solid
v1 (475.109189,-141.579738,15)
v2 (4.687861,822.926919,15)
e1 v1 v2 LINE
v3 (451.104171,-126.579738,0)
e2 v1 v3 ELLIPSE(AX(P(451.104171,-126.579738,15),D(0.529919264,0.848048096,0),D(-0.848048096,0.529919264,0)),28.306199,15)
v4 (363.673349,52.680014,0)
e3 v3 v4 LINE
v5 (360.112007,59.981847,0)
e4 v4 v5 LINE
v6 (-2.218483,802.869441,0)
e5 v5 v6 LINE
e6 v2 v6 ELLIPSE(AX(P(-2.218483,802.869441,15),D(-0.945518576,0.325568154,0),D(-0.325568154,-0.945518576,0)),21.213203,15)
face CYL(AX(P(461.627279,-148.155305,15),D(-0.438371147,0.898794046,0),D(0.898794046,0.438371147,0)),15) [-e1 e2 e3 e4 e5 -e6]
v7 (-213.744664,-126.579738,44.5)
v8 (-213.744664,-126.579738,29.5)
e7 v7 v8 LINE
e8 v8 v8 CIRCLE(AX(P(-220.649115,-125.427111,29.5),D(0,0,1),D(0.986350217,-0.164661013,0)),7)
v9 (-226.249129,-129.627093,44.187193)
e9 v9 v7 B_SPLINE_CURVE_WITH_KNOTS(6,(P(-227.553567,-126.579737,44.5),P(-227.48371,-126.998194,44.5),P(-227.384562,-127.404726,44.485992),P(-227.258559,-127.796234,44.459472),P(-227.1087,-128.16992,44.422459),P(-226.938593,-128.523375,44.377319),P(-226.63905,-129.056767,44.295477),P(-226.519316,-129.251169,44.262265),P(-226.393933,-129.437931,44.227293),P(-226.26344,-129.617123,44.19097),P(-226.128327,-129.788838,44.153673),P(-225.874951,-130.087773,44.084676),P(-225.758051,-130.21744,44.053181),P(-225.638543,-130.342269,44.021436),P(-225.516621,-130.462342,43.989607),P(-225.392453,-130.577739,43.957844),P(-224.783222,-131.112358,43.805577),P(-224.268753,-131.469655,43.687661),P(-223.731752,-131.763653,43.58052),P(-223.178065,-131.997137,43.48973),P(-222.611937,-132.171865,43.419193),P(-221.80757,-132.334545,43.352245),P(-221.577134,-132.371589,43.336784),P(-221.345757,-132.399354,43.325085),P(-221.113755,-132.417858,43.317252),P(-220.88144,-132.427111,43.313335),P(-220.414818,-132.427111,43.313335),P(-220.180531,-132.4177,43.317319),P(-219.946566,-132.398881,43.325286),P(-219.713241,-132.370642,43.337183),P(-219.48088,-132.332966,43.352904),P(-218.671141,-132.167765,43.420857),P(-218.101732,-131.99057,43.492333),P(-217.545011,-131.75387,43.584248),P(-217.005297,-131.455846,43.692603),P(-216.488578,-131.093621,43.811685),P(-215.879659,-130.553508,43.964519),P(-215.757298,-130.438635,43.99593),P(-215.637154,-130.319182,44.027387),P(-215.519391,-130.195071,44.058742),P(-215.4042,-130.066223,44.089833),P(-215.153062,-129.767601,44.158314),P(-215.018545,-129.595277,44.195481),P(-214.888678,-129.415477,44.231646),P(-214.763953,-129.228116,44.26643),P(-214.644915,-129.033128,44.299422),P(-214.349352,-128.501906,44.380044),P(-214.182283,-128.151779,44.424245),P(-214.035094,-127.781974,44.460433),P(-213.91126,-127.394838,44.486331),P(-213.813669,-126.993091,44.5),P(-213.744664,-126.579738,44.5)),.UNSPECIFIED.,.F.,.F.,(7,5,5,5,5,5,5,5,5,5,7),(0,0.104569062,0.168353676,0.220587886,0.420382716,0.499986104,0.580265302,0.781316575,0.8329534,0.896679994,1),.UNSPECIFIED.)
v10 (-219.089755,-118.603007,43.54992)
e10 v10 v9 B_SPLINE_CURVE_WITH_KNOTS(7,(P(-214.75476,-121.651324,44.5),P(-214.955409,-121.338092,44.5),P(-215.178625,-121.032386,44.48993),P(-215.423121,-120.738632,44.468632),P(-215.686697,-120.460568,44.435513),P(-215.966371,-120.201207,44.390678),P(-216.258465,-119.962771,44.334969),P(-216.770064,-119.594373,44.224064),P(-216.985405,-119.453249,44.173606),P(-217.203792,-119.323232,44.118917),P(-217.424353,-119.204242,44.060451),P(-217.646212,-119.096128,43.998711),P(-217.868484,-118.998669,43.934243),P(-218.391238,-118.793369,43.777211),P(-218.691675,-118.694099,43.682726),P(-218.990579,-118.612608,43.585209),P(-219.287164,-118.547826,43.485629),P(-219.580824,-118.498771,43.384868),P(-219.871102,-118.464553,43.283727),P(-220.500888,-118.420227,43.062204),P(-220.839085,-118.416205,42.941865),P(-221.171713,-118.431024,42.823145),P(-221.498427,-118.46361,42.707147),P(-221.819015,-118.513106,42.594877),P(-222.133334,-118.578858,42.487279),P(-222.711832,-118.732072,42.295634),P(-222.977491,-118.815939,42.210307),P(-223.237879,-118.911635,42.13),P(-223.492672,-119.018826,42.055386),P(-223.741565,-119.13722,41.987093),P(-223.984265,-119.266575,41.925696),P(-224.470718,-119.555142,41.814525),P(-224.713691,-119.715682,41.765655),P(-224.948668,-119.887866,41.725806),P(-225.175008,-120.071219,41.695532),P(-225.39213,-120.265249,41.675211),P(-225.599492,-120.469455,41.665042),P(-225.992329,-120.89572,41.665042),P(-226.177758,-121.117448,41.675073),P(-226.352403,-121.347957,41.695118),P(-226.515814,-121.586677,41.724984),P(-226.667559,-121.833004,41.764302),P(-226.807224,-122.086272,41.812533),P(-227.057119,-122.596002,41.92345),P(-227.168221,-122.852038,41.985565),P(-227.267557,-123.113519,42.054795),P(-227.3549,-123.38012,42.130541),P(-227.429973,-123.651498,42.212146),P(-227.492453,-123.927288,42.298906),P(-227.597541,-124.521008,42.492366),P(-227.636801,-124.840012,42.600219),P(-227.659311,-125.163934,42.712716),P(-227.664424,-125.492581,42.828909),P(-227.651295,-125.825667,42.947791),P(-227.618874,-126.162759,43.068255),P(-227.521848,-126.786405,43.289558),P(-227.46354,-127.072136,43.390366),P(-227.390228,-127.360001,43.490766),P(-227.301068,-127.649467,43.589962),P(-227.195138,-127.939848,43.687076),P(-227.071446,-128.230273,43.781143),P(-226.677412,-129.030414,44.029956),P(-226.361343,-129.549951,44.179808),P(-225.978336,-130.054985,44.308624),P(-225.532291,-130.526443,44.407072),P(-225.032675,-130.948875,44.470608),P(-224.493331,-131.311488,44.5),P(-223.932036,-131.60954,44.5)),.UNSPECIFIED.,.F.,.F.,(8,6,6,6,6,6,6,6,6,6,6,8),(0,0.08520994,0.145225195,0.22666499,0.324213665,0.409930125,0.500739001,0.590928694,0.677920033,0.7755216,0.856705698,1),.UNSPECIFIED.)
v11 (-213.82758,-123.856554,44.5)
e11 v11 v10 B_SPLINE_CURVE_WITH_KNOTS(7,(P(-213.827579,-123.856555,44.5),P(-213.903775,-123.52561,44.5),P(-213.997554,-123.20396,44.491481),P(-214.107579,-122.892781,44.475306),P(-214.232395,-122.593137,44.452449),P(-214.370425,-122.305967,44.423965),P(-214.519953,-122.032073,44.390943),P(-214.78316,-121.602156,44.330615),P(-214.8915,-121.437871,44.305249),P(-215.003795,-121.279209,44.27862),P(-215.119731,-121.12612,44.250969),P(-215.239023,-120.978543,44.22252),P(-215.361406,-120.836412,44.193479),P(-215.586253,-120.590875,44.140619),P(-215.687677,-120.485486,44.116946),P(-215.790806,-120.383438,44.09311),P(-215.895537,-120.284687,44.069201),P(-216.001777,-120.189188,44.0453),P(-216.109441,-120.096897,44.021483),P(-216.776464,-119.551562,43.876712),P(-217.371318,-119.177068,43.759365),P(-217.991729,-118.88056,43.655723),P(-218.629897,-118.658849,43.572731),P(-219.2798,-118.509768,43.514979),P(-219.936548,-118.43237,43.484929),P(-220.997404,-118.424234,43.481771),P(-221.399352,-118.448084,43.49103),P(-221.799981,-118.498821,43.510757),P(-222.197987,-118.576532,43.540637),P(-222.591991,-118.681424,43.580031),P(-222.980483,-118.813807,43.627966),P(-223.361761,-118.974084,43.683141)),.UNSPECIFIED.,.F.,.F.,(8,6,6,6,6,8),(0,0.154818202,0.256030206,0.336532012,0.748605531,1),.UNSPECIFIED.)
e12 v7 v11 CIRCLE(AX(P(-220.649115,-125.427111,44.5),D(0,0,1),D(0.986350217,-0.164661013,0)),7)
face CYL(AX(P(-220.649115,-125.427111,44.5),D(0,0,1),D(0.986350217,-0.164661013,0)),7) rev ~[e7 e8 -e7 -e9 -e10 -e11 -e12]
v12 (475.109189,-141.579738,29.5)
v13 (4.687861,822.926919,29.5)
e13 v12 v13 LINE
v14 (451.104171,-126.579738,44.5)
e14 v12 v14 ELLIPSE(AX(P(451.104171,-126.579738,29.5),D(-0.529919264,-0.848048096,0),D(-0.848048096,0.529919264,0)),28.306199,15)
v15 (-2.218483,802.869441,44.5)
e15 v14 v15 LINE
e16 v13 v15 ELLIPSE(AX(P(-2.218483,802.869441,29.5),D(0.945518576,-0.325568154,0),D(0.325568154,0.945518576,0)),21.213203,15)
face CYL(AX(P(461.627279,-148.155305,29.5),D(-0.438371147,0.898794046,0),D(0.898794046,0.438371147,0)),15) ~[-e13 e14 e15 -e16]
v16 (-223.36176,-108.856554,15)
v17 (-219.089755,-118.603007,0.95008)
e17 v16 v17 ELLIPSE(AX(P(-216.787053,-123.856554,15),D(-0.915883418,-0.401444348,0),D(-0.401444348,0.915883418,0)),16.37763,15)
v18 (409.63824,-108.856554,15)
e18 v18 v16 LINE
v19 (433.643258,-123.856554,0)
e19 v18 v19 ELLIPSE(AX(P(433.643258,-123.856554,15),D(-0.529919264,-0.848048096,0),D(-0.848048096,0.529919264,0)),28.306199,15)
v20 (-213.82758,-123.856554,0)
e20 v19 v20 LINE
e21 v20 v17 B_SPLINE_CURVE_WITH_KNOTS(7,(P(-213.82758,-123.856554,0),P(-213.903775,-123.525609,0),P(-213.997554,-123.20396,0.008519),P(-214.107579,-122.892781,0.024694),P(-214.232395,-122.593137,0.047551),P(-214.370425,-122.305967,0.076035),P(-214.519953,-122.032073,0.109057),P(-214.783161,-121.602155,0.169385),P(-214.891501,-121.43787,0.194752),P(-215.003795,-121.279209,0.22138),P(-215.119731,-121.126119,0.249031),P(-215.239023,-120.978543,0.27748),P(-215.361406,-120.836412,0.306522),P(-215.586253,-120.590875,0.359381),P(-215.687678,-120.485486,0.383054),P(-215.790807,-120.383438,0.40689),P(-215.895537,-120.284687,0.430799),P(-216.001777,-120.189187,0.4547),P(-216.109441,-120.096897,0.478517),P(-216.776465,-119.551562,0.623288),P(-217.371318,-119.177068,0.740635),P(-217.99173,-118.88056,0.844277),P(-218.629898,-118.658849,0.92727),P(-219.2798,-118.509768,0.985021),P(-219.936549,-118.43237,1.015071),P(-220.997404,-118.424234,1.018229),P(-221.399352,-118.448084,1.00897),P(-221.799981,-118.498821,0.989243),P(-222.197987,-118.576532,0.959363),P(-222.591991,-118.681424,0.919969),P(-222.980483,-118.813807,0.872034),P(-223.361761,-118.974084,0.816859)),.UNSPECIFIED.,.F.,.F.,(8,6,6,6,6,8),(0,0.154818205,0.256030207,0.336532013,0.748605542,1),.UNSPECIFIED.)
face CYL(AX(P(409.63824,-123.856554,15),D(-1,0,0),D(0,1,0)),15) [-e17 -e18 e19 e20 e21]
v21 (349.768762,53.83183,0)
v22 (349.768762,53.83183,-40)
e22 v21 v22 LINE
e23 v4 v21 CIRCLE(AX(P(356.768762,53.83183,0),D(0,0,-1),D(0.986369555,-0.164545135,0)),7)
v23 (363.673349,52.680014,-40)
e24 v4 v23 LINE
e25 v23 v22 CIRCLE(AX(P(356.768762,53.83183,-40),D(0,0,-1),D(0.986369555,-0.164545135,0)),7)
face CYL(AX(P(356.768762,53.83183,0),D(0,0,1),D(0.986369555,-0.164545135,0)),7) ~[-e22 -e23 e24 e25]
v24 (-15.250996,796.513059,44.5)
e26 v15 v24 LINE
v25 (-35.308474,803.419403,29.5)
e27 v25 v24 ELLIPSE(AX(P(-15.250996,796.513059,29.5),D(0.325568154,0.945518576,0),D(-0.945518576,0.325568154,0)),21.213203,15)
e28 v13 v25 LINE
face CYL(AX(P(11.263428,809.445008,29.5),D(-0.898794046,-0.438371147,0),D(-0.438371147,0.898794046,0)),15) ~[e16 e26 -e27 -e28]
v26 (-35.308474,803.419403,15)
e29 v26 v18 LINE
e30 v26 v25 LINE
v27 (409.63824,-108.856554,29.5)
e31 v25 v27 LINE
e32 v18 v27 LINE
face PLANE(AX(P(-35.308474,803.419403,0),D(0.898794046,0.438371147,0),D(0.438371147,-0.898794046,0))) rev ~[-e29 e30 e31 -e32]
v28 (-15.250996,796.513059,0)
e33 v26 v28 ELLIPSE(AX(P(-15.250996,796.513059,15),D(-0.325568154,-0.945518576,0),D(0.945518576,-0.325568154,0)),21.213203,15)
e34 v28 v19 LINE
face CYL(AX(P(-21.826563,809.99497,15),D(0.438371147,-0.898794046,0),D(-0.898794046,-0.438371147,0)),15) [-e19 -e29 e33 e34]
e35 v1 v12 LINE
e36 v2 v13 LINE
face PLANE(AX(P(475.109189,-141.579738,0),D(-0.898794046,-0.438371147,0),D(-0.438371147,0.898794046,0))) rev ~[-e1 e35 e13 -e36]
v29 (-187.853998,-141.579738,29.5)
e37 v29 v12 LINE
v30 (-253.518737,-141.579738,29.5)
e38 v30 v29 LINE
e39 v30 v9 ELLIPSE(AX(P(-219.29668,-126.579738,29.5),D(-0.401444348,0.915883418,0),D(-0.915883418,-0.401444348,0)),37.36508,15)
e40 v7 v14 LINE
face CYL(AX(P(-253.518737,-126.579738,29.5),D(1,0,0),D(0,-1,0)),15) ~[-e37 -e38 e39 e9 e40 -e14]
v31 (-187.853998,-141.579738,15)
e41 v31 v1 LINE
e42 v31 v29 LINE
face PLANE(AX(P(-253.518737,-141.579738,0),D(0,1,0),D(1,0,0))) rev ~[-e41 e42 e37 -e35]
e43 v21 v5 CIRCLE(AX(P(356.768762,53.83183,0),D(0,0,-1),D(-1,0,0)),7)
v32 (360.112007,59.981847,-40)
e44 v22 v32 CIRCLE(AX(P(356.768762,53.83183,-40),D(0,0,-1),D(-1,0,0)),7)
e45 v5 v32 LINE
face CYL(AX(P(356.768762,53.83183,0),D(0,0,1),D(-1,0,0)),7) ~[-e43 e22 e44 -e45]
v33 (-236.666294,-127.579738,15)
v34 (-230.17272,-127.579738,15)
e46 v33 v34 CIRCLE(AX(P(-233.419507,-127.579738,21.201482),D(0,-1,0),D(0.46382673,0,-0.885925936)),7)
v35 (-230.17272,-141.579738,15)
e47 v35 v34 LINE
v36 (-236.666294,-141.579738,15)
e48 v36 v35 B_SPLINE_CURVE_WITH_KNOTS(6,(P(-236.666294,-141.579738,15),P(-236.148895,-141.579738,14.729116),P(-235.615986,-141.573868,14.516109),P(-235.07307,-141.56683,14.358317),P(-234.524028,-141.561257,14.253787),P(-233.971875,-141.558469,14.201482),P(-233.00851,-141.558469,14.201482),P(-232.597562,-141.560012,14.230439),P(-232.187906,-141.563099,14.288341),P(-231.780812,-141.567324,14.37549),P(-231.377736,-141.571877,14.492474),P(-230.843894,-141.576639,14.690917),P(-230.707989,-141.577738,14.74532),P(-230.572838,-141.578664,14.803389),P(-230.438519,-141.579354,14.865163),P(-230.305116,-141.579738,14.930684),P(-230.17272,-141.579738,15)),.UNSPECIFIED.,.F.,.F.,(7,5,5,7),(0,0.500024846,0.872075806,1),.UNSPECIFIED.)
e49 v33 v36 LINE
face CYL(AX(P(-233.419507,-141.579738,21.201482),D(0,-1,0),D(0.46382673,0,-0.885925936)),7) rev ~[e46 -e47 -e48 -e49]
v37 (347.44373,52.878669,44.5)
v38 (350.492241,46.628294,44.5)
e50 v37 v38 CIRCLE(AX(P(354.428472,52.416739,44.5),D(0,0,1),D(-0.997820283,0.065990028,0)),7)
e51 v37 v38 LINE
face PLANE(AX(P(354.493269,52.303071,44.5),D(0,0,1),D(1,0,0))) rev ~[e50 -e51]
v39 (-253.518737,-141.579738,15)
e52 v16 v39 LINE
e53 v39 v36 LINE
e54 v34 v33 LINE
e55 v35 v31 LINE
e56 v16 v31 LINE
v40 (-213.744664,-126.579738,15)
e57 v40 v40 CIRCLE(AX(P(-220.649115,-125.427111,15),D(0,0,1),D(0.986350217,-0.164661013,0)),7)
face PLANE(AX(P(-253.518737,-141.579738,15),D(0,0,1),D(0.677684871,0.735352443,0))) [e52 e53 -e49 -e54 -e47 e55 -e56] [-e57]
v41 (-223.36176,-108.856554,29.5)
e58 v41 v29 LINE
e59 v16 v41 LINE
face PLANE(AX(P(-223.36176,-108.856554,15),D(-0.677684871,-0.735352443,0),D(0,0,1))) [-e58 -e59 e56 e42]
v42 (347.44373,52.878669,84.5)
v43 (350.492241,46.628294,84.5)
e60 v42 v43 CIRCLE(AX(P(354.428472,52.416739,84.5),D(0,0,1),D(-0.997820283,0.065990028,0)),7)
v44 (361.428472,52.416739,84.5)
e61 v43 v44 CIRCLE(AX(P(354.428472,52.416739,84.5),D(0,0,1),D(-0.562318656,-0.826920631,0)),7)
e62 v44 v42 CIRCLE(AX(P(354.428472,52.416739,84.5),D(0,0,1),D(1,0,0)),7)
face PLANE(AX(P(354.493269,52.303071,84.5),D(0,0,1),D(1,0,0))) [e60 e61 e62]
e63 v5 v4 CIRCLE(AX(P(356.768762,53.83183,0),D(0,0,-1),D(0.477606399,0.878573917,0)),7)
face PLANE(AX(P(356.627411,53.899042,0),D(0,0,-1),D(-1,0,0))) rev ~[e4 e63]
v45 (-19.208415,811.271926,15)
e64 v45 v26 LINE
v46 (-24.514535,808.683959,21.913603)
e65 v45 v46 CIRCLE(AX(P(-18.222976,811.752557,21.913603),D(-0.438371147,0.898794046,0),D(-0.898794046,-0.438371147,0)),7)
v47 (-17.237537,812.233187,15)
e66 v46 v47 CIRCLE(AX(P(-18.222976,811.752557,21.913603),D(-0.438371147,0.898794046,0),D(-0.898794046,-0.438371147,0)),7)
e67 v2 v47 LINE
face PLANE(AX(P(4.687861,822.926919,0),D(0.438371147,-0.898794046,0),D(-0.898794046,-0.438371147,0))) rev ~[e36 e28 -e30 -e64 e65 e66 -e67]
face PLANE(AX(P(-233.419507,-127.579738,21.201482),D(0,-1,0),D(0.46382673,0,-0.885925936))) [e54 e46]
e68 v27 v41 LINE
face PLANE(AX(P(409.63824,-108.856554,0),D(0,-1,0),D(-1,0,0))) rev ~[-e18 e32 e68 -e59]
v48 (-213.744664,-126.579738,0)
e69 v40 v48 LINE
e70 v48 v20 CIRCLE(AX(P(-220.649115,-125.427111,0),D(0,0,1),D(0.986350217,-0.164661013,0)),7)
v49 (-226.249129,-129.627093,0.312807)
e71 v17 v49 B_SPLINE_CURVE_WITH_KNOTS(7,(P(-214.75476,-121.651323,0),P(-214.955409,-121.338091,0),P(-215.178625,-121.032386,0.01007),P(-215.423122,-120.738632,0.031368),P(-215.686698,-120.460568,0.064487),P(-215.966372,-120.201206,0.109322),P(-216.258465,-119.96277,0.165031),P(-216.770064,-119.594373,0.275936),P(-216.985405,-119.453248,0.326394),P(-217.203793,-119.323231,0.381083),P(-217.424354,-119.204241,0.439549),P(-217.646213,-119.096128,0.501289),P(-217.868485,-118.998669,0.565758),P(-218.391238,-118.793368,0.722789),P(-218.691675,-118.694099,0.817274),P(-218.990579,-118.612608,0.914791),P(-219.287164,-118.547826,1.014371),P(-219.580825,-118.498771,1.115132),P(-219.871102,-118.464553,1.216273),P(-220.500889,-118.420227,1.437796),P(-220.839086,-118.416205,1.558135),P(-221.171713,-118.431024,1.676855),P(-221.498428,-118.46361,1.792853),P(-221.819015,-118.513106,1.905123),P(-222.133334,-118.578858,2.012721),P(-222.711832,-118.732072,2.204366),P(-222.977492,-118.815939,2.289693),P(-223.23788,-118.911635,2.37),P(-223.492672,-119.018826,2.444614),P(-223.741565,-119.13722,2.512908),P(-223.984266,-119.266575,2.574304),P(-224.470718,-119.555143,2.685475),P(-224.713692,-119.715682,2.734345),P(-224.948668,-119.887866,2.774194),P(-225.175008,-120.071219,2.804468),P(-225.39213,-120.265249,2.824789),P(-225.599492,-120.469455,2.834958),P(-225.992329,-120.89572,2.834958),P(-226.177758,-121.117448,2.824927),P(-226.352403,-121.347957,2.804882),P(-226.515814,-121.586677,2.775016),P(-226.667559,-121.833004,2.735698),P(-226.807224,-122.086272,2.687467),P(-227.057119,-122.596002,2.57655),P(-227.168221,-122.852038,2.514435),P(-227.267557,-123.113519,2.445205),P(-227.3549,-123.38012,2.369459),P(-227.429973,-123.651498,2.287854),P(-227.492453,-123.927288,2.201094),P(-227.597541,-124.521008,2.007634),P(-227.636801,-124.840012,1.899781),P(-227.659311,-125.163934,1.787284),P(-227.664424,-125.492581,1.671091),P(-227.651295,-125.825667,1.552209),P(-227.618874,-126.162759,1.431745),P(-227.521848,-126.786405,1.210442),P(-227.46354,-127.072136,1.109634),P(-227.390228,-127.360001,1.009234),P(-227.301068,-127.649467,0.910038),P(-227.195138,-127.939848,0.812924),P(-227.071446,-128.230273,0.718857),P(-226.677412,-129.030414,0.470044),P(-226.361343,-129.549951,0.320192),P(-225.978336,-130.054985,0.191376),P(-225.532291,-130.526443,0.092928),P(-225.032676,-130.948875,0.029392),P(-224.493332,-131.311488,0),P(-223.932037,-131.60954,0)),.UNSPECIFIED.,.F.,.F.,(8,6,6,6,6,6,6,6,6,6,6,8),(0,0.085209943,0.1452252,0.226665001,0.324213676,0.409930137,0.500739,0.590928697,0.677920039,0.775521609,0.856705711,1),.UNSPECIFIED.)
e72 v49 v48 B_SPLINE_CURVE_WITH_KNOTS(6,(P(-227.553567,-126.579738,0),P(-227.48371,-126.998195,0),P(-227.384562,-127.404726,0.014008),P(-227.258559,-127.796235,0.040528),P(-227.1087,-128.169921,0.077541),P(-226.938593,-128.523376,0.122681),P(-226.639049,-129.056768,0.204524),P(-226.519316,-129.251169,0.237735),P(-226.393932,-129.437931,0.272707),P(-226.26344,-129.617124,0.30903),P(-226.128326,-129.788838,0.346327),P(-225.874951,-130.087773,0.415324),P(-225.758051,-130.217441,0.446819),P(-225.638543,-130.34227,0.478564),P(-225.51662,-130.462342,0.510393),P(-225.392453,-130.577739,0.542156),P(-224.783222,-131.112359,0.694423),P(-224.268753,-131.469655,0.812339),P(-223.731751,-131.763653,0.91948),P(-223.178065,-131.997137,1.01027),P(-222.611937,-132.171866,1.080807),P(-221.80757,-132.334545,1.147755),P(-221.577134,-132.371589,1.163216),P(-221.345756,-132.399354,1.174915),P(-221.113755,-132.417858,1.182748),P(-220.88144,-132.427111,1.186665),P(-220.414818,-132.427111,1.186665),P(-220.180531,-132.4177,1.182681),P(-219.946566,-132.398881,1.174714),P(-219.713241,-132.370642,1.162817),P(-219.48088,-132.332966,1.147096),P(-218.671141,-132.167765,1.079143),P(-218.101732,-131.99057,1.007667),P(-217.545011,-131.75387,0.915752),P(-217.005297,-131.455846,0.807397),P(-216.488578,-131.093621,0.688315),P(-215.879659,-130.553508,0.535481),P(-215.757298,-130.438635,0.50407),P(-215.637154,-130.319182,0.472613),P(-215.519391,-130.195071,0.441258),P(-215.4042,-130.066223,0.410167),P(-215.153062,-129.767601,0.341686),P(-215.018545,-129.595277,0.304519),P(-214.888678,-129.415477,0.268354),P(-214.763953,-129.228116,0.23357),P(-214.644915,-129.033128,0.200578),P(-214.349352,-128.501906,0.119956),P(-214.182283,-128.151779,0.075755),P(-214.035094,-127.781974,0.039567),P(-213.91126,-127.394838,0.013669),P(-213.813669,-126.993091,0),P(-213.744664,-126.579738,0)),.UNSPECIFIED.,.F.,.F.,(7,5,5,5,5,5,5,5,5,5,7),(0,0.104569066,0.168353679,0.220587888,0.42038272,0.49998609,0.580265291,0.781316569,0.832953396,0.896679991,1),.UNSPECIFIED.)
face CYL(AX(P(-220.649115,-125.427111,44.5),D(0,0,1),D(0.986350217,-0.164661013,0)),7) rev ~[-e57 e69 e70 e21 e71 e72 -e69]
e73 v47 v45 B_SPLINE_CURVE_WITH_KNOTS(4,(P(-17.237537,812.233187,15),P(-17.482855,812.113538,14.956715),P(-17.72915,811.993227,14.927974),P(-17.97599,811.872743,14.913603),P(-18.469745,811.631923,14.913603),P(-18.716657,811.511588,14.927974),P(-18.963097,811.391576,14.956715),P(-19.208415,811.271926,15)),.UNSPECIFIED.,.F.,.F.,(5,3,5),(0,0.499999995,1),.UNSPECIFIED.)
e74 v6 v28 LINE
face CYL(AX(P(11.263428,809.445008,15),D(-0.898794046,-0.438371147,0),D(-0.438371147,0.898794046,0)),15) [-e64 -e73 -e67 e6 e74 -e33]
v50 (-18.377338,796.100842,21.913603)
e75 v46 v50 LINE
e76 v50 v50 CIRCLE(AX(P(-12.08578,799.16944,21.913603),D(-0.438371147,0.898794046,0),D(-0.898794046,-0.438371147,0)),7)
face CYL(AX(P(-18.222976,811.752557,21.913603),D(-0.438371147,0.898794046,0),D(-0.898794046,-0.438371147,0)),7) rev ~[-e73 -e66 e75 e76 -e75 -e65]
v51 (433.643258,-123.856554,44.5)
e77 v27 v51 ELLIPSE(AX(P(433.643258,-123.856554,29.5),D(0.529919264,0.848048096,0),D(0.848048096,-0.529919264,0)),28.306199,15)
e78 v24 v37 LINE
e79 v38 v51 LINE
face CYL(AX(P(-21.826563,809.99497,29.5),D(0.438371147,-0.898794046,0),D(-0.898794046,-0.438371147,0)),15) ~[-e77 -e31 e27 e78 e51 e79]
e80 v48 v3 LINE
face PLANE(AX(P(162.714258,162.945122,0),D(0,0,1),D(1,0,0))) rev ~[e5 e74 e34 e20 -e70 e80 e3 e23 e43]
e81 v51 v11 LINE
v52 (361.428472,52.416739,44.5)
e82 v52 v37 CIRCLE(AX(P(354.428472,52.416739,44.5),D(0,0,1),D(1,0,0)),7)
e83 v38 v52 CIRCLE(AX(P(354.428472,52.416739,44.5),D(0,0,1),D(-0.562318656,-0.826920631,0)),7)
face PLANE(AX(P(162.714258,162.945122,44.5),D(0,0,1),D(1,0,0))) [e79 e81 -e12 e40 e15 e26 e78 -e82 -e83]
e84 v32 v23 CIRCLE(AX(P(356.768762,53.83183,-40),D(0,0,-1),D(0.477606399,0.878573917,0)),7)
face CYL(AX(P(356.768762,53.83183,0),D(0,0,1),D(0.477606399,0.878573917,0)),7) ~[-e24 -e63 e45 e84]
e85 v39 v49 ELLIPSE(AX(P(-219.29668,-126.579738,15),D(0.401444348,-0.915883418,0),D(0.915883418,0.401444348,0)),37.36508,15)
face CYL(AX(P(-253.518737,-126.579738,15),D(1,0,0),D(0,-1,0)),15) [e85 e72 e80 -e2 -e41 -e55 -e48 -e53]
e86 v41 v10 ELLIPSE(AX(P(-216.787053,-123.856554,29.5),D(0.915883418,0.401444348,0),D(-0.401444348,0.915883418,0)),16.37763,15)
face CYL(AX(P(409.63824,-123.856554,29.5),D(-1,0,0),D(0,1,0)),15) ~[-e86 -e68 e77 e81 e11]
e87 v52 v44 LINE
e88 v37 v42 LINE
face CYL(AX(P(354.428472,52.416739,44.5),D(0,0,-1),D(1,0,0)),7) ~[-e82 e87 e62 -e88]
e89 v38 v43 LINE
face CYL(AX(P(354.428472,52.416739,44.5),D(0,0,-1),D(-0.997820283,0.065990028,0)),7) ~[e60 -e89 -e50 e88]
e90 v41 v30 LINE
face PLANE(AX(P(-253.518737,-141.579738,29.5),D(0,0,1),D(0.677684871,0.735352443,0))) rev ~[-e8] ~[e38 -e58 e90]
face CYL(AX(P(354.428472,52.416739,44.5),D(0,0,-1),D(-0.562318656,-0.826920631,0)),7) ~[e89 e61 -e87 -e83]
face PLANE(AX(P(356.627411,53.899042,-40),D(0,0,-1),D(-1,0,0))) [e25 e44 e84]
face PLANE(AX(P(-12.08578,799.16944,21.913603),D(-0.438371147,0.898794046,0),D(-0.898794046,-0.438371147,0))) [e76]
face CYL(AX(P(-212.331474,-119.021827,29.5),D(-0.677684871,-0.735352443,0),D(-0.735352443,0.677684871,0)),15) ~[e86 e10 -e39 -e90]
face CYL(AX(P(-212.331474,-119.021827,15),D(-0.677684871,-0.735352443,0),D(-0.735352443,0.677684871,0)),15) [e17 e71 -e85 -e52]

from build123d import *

# Parameters (mm, degrees)
BOSS_EXTRUDE1_DEPTH = 44.5
FILLET2_R           = 15
SKETCH2_R           = 7
CUT_EXTRUDE1_DEPTH  = 14
SKETCH3_R           = 7
CUT_EXTRUDE2_DEPTH  = 14
SKETCH4_R           = 7
CUT_EXTRUDE3_DEPTH  = 14
SKETCH5_R           = 7
CUT_EXTRUDE4_DEPTH  = 952.271625519
SKETCH6_W           = 14.5
SKETCH6_H           = 44.5
CUT_EXTRUDE5_DEPTH  = 936.632574619
BOSS_EXTRUDE3_DEPTH = 40
BOSS_EXTRUDE4_DEPTH = 40


with BuildPart() as part:
    # Sketch1 → Boss-Extrude1 (new body)
    with BuildSketch(Plane.XY):
        Polygon((-253.518736915, -141.579738071), (475.109189289, -141.579738071), (4.687860899, 822.926918688), (-35.308474161, 803.419402656), (409.63823983, -108.856554338), (-223.36176017, -108.856554338), align=None)
    extrude(amount=BOSS_EXTRUDE1_DEPTH)

    # Fillet2
    fillet2_edges = [part.edges().sort_by_distance(p)[0] for p in [
        (239.898525094, 340.673590309, 44.5),
        (-15.310306631, 813.173160672, 44.5),
        (187.164882834, 347.281424159, 44.5),
        (93.13823983, -108.856554338, 44.5),
        (-238.440248543, -125.218146204, 44.5),
        (93.13823983, -108.856554338, 0),
        (187.164882834, 347.281424159, 0),
        (-15.310306631, 813.173160672, 0),
        (239.898525094, 340.673590309, 0),
        (110.795226187, -141.579738071, 0),
        (-238.440248543, -125.218146204, 0),
        (110.795226187, -141.579738071, 44.5),
    ]]
    fillet(fillet2_edges, radius=FILLET2_R)

    # Sketch2 → Cut-Extrude1 (cut)
    with BuildSketch(Plane(origin=(-323.336767908, 662.938617367, 0), x_dir=(0.8987940462991654, 0.43837114678908073, 0), z_dir=(-0.43837114678908073, 0.8987940462991654, 0))):
        with Locations(Location((339.470196695, -21.913602874, 0), (0, 0, 180))):
            Circle(SKETCH2_R)
    extrude(amount=-CUT_EXTRUDE1_DEPTH, mode=Mode.SUBTRACT)

    # Sketch3 → Cut-Extrude2 (cut)
    with BuildSketch(Plane(origin=(-66.534083276, 61.316368798, 0), x_dir=(0, 0, 1), z_dir=(-0.735352443447444, 0.6776848706558778, 0))):
        with Locations(Location((22.366337019, -255.510068241, 0), (0, 0, 270))):
            Circle(SKETCH3_R)
    extrude(amount=-CUT_EXTRUDE2_DEPTH, mode=Mode.SUBTRACT)

    # Sketch4 → Cut-Extrude3 (cut)
    with BuildSketch(Plane(origin=(0, -141.579738071, 0), x_dir=(-1, 0, 0), z_dir=(0, -1, 0))):
        with Locations(Location((233.419507196, -21.201481555, 0), (0, 0, 117.634316404))):
            Circle(SKETCH4_R)
    extrude(amount=-CUT_EXTRUDE3_DEPTH, mode=Mode.SUBTRACT)

    # Sketch5 → Cut-Extrude4 (cut, through all)
    with BuildSketch(Plane.XY.offset(44.5)):
        with Locations(Location((-220.649115428, -125.427110978, 0), (0, 0, 350.522457382))):
            Circle(SKETCH5_R)
    extrude(amount=-CUT_EXTRUDE4_DEPTH, mode=Mode.SUBTRACT)

    # Sketch6 → Cut-Extrude5 (cut, through all)
    with BuildSketch(Plane(origin=(-66.534083276, 61.316368798, 0), x_dir=(0, 0, 1), z_dir=(-0.735352443447444, 0.6776848706558778, 0))):
        with Locations((22.25, -253.666818768)):
            Rectangle(SKETCH6_W, SKETCH6_H)
    extrude(amount=-CUT_EXTRUDE5_DEPTH, mode=Mode.SUBTRACT)

    # Sketch8 → Boss-Extrude3 (add)
    with BuildSketch(Plane.XY.offset(44.5)):
        with BuildLine():
            ThreePointArc((350.492241226, 46.628294304), (357.703100488, 46.229913436), (361.428471817, 52.416738718))
            ThreePointArc((361.428471817, 52.416738718), (354.659562876, 59.412923172), (347.443729839, 52.878668912))
            Line((347.443729839, 52.878668912), (350.492241226, 46.628294304))
        make_face()
        with BuildLine():
            Line((350.492241226, 46.628294304), (347.443729839, 52.878668912))
            ThreePointArc((347.443729839, 52.878668912), (348.136913493, 49.34814069), (350.492241226, 46.628294304))
        make_face()
    extrude(amount=BOSS_EXTRUDE3_DEPTH)

    # Sketch9 → Boss-Extrude4 (add)
    with BuildSketch(Plane(origin=(0, 0, 0), x_dir=(-1, 0, 0), z_dir=(0, 0, -1))):
        with BuildLine():
            ThreePointArc((-363.673348609, 52.680013675), (-356.190881193, 46.855723683), (-349.768761726, 53.831829624))
            ThreePointArc((-349.768761726, 53.831829624), (-353.191242582, 59.848585957), (-360.112006519, 59.981847043))
            Line((-360.112006519, 59.981847043), (-363.673348609, 52.680013675))
        make_face()
        with BuildLine():
            Line((-363.673348609, 52.680013675), (-360.112006519, 59.981847043))
            ThreePointArc((-360.112006519, 59.981847043), (-363.06032005, 56.900427651), (-363.673348609, 52.680013675))
        make_face()
    extrude(amount=BOSS_EXTRUDE4_DEPTH)


solid = part.part
